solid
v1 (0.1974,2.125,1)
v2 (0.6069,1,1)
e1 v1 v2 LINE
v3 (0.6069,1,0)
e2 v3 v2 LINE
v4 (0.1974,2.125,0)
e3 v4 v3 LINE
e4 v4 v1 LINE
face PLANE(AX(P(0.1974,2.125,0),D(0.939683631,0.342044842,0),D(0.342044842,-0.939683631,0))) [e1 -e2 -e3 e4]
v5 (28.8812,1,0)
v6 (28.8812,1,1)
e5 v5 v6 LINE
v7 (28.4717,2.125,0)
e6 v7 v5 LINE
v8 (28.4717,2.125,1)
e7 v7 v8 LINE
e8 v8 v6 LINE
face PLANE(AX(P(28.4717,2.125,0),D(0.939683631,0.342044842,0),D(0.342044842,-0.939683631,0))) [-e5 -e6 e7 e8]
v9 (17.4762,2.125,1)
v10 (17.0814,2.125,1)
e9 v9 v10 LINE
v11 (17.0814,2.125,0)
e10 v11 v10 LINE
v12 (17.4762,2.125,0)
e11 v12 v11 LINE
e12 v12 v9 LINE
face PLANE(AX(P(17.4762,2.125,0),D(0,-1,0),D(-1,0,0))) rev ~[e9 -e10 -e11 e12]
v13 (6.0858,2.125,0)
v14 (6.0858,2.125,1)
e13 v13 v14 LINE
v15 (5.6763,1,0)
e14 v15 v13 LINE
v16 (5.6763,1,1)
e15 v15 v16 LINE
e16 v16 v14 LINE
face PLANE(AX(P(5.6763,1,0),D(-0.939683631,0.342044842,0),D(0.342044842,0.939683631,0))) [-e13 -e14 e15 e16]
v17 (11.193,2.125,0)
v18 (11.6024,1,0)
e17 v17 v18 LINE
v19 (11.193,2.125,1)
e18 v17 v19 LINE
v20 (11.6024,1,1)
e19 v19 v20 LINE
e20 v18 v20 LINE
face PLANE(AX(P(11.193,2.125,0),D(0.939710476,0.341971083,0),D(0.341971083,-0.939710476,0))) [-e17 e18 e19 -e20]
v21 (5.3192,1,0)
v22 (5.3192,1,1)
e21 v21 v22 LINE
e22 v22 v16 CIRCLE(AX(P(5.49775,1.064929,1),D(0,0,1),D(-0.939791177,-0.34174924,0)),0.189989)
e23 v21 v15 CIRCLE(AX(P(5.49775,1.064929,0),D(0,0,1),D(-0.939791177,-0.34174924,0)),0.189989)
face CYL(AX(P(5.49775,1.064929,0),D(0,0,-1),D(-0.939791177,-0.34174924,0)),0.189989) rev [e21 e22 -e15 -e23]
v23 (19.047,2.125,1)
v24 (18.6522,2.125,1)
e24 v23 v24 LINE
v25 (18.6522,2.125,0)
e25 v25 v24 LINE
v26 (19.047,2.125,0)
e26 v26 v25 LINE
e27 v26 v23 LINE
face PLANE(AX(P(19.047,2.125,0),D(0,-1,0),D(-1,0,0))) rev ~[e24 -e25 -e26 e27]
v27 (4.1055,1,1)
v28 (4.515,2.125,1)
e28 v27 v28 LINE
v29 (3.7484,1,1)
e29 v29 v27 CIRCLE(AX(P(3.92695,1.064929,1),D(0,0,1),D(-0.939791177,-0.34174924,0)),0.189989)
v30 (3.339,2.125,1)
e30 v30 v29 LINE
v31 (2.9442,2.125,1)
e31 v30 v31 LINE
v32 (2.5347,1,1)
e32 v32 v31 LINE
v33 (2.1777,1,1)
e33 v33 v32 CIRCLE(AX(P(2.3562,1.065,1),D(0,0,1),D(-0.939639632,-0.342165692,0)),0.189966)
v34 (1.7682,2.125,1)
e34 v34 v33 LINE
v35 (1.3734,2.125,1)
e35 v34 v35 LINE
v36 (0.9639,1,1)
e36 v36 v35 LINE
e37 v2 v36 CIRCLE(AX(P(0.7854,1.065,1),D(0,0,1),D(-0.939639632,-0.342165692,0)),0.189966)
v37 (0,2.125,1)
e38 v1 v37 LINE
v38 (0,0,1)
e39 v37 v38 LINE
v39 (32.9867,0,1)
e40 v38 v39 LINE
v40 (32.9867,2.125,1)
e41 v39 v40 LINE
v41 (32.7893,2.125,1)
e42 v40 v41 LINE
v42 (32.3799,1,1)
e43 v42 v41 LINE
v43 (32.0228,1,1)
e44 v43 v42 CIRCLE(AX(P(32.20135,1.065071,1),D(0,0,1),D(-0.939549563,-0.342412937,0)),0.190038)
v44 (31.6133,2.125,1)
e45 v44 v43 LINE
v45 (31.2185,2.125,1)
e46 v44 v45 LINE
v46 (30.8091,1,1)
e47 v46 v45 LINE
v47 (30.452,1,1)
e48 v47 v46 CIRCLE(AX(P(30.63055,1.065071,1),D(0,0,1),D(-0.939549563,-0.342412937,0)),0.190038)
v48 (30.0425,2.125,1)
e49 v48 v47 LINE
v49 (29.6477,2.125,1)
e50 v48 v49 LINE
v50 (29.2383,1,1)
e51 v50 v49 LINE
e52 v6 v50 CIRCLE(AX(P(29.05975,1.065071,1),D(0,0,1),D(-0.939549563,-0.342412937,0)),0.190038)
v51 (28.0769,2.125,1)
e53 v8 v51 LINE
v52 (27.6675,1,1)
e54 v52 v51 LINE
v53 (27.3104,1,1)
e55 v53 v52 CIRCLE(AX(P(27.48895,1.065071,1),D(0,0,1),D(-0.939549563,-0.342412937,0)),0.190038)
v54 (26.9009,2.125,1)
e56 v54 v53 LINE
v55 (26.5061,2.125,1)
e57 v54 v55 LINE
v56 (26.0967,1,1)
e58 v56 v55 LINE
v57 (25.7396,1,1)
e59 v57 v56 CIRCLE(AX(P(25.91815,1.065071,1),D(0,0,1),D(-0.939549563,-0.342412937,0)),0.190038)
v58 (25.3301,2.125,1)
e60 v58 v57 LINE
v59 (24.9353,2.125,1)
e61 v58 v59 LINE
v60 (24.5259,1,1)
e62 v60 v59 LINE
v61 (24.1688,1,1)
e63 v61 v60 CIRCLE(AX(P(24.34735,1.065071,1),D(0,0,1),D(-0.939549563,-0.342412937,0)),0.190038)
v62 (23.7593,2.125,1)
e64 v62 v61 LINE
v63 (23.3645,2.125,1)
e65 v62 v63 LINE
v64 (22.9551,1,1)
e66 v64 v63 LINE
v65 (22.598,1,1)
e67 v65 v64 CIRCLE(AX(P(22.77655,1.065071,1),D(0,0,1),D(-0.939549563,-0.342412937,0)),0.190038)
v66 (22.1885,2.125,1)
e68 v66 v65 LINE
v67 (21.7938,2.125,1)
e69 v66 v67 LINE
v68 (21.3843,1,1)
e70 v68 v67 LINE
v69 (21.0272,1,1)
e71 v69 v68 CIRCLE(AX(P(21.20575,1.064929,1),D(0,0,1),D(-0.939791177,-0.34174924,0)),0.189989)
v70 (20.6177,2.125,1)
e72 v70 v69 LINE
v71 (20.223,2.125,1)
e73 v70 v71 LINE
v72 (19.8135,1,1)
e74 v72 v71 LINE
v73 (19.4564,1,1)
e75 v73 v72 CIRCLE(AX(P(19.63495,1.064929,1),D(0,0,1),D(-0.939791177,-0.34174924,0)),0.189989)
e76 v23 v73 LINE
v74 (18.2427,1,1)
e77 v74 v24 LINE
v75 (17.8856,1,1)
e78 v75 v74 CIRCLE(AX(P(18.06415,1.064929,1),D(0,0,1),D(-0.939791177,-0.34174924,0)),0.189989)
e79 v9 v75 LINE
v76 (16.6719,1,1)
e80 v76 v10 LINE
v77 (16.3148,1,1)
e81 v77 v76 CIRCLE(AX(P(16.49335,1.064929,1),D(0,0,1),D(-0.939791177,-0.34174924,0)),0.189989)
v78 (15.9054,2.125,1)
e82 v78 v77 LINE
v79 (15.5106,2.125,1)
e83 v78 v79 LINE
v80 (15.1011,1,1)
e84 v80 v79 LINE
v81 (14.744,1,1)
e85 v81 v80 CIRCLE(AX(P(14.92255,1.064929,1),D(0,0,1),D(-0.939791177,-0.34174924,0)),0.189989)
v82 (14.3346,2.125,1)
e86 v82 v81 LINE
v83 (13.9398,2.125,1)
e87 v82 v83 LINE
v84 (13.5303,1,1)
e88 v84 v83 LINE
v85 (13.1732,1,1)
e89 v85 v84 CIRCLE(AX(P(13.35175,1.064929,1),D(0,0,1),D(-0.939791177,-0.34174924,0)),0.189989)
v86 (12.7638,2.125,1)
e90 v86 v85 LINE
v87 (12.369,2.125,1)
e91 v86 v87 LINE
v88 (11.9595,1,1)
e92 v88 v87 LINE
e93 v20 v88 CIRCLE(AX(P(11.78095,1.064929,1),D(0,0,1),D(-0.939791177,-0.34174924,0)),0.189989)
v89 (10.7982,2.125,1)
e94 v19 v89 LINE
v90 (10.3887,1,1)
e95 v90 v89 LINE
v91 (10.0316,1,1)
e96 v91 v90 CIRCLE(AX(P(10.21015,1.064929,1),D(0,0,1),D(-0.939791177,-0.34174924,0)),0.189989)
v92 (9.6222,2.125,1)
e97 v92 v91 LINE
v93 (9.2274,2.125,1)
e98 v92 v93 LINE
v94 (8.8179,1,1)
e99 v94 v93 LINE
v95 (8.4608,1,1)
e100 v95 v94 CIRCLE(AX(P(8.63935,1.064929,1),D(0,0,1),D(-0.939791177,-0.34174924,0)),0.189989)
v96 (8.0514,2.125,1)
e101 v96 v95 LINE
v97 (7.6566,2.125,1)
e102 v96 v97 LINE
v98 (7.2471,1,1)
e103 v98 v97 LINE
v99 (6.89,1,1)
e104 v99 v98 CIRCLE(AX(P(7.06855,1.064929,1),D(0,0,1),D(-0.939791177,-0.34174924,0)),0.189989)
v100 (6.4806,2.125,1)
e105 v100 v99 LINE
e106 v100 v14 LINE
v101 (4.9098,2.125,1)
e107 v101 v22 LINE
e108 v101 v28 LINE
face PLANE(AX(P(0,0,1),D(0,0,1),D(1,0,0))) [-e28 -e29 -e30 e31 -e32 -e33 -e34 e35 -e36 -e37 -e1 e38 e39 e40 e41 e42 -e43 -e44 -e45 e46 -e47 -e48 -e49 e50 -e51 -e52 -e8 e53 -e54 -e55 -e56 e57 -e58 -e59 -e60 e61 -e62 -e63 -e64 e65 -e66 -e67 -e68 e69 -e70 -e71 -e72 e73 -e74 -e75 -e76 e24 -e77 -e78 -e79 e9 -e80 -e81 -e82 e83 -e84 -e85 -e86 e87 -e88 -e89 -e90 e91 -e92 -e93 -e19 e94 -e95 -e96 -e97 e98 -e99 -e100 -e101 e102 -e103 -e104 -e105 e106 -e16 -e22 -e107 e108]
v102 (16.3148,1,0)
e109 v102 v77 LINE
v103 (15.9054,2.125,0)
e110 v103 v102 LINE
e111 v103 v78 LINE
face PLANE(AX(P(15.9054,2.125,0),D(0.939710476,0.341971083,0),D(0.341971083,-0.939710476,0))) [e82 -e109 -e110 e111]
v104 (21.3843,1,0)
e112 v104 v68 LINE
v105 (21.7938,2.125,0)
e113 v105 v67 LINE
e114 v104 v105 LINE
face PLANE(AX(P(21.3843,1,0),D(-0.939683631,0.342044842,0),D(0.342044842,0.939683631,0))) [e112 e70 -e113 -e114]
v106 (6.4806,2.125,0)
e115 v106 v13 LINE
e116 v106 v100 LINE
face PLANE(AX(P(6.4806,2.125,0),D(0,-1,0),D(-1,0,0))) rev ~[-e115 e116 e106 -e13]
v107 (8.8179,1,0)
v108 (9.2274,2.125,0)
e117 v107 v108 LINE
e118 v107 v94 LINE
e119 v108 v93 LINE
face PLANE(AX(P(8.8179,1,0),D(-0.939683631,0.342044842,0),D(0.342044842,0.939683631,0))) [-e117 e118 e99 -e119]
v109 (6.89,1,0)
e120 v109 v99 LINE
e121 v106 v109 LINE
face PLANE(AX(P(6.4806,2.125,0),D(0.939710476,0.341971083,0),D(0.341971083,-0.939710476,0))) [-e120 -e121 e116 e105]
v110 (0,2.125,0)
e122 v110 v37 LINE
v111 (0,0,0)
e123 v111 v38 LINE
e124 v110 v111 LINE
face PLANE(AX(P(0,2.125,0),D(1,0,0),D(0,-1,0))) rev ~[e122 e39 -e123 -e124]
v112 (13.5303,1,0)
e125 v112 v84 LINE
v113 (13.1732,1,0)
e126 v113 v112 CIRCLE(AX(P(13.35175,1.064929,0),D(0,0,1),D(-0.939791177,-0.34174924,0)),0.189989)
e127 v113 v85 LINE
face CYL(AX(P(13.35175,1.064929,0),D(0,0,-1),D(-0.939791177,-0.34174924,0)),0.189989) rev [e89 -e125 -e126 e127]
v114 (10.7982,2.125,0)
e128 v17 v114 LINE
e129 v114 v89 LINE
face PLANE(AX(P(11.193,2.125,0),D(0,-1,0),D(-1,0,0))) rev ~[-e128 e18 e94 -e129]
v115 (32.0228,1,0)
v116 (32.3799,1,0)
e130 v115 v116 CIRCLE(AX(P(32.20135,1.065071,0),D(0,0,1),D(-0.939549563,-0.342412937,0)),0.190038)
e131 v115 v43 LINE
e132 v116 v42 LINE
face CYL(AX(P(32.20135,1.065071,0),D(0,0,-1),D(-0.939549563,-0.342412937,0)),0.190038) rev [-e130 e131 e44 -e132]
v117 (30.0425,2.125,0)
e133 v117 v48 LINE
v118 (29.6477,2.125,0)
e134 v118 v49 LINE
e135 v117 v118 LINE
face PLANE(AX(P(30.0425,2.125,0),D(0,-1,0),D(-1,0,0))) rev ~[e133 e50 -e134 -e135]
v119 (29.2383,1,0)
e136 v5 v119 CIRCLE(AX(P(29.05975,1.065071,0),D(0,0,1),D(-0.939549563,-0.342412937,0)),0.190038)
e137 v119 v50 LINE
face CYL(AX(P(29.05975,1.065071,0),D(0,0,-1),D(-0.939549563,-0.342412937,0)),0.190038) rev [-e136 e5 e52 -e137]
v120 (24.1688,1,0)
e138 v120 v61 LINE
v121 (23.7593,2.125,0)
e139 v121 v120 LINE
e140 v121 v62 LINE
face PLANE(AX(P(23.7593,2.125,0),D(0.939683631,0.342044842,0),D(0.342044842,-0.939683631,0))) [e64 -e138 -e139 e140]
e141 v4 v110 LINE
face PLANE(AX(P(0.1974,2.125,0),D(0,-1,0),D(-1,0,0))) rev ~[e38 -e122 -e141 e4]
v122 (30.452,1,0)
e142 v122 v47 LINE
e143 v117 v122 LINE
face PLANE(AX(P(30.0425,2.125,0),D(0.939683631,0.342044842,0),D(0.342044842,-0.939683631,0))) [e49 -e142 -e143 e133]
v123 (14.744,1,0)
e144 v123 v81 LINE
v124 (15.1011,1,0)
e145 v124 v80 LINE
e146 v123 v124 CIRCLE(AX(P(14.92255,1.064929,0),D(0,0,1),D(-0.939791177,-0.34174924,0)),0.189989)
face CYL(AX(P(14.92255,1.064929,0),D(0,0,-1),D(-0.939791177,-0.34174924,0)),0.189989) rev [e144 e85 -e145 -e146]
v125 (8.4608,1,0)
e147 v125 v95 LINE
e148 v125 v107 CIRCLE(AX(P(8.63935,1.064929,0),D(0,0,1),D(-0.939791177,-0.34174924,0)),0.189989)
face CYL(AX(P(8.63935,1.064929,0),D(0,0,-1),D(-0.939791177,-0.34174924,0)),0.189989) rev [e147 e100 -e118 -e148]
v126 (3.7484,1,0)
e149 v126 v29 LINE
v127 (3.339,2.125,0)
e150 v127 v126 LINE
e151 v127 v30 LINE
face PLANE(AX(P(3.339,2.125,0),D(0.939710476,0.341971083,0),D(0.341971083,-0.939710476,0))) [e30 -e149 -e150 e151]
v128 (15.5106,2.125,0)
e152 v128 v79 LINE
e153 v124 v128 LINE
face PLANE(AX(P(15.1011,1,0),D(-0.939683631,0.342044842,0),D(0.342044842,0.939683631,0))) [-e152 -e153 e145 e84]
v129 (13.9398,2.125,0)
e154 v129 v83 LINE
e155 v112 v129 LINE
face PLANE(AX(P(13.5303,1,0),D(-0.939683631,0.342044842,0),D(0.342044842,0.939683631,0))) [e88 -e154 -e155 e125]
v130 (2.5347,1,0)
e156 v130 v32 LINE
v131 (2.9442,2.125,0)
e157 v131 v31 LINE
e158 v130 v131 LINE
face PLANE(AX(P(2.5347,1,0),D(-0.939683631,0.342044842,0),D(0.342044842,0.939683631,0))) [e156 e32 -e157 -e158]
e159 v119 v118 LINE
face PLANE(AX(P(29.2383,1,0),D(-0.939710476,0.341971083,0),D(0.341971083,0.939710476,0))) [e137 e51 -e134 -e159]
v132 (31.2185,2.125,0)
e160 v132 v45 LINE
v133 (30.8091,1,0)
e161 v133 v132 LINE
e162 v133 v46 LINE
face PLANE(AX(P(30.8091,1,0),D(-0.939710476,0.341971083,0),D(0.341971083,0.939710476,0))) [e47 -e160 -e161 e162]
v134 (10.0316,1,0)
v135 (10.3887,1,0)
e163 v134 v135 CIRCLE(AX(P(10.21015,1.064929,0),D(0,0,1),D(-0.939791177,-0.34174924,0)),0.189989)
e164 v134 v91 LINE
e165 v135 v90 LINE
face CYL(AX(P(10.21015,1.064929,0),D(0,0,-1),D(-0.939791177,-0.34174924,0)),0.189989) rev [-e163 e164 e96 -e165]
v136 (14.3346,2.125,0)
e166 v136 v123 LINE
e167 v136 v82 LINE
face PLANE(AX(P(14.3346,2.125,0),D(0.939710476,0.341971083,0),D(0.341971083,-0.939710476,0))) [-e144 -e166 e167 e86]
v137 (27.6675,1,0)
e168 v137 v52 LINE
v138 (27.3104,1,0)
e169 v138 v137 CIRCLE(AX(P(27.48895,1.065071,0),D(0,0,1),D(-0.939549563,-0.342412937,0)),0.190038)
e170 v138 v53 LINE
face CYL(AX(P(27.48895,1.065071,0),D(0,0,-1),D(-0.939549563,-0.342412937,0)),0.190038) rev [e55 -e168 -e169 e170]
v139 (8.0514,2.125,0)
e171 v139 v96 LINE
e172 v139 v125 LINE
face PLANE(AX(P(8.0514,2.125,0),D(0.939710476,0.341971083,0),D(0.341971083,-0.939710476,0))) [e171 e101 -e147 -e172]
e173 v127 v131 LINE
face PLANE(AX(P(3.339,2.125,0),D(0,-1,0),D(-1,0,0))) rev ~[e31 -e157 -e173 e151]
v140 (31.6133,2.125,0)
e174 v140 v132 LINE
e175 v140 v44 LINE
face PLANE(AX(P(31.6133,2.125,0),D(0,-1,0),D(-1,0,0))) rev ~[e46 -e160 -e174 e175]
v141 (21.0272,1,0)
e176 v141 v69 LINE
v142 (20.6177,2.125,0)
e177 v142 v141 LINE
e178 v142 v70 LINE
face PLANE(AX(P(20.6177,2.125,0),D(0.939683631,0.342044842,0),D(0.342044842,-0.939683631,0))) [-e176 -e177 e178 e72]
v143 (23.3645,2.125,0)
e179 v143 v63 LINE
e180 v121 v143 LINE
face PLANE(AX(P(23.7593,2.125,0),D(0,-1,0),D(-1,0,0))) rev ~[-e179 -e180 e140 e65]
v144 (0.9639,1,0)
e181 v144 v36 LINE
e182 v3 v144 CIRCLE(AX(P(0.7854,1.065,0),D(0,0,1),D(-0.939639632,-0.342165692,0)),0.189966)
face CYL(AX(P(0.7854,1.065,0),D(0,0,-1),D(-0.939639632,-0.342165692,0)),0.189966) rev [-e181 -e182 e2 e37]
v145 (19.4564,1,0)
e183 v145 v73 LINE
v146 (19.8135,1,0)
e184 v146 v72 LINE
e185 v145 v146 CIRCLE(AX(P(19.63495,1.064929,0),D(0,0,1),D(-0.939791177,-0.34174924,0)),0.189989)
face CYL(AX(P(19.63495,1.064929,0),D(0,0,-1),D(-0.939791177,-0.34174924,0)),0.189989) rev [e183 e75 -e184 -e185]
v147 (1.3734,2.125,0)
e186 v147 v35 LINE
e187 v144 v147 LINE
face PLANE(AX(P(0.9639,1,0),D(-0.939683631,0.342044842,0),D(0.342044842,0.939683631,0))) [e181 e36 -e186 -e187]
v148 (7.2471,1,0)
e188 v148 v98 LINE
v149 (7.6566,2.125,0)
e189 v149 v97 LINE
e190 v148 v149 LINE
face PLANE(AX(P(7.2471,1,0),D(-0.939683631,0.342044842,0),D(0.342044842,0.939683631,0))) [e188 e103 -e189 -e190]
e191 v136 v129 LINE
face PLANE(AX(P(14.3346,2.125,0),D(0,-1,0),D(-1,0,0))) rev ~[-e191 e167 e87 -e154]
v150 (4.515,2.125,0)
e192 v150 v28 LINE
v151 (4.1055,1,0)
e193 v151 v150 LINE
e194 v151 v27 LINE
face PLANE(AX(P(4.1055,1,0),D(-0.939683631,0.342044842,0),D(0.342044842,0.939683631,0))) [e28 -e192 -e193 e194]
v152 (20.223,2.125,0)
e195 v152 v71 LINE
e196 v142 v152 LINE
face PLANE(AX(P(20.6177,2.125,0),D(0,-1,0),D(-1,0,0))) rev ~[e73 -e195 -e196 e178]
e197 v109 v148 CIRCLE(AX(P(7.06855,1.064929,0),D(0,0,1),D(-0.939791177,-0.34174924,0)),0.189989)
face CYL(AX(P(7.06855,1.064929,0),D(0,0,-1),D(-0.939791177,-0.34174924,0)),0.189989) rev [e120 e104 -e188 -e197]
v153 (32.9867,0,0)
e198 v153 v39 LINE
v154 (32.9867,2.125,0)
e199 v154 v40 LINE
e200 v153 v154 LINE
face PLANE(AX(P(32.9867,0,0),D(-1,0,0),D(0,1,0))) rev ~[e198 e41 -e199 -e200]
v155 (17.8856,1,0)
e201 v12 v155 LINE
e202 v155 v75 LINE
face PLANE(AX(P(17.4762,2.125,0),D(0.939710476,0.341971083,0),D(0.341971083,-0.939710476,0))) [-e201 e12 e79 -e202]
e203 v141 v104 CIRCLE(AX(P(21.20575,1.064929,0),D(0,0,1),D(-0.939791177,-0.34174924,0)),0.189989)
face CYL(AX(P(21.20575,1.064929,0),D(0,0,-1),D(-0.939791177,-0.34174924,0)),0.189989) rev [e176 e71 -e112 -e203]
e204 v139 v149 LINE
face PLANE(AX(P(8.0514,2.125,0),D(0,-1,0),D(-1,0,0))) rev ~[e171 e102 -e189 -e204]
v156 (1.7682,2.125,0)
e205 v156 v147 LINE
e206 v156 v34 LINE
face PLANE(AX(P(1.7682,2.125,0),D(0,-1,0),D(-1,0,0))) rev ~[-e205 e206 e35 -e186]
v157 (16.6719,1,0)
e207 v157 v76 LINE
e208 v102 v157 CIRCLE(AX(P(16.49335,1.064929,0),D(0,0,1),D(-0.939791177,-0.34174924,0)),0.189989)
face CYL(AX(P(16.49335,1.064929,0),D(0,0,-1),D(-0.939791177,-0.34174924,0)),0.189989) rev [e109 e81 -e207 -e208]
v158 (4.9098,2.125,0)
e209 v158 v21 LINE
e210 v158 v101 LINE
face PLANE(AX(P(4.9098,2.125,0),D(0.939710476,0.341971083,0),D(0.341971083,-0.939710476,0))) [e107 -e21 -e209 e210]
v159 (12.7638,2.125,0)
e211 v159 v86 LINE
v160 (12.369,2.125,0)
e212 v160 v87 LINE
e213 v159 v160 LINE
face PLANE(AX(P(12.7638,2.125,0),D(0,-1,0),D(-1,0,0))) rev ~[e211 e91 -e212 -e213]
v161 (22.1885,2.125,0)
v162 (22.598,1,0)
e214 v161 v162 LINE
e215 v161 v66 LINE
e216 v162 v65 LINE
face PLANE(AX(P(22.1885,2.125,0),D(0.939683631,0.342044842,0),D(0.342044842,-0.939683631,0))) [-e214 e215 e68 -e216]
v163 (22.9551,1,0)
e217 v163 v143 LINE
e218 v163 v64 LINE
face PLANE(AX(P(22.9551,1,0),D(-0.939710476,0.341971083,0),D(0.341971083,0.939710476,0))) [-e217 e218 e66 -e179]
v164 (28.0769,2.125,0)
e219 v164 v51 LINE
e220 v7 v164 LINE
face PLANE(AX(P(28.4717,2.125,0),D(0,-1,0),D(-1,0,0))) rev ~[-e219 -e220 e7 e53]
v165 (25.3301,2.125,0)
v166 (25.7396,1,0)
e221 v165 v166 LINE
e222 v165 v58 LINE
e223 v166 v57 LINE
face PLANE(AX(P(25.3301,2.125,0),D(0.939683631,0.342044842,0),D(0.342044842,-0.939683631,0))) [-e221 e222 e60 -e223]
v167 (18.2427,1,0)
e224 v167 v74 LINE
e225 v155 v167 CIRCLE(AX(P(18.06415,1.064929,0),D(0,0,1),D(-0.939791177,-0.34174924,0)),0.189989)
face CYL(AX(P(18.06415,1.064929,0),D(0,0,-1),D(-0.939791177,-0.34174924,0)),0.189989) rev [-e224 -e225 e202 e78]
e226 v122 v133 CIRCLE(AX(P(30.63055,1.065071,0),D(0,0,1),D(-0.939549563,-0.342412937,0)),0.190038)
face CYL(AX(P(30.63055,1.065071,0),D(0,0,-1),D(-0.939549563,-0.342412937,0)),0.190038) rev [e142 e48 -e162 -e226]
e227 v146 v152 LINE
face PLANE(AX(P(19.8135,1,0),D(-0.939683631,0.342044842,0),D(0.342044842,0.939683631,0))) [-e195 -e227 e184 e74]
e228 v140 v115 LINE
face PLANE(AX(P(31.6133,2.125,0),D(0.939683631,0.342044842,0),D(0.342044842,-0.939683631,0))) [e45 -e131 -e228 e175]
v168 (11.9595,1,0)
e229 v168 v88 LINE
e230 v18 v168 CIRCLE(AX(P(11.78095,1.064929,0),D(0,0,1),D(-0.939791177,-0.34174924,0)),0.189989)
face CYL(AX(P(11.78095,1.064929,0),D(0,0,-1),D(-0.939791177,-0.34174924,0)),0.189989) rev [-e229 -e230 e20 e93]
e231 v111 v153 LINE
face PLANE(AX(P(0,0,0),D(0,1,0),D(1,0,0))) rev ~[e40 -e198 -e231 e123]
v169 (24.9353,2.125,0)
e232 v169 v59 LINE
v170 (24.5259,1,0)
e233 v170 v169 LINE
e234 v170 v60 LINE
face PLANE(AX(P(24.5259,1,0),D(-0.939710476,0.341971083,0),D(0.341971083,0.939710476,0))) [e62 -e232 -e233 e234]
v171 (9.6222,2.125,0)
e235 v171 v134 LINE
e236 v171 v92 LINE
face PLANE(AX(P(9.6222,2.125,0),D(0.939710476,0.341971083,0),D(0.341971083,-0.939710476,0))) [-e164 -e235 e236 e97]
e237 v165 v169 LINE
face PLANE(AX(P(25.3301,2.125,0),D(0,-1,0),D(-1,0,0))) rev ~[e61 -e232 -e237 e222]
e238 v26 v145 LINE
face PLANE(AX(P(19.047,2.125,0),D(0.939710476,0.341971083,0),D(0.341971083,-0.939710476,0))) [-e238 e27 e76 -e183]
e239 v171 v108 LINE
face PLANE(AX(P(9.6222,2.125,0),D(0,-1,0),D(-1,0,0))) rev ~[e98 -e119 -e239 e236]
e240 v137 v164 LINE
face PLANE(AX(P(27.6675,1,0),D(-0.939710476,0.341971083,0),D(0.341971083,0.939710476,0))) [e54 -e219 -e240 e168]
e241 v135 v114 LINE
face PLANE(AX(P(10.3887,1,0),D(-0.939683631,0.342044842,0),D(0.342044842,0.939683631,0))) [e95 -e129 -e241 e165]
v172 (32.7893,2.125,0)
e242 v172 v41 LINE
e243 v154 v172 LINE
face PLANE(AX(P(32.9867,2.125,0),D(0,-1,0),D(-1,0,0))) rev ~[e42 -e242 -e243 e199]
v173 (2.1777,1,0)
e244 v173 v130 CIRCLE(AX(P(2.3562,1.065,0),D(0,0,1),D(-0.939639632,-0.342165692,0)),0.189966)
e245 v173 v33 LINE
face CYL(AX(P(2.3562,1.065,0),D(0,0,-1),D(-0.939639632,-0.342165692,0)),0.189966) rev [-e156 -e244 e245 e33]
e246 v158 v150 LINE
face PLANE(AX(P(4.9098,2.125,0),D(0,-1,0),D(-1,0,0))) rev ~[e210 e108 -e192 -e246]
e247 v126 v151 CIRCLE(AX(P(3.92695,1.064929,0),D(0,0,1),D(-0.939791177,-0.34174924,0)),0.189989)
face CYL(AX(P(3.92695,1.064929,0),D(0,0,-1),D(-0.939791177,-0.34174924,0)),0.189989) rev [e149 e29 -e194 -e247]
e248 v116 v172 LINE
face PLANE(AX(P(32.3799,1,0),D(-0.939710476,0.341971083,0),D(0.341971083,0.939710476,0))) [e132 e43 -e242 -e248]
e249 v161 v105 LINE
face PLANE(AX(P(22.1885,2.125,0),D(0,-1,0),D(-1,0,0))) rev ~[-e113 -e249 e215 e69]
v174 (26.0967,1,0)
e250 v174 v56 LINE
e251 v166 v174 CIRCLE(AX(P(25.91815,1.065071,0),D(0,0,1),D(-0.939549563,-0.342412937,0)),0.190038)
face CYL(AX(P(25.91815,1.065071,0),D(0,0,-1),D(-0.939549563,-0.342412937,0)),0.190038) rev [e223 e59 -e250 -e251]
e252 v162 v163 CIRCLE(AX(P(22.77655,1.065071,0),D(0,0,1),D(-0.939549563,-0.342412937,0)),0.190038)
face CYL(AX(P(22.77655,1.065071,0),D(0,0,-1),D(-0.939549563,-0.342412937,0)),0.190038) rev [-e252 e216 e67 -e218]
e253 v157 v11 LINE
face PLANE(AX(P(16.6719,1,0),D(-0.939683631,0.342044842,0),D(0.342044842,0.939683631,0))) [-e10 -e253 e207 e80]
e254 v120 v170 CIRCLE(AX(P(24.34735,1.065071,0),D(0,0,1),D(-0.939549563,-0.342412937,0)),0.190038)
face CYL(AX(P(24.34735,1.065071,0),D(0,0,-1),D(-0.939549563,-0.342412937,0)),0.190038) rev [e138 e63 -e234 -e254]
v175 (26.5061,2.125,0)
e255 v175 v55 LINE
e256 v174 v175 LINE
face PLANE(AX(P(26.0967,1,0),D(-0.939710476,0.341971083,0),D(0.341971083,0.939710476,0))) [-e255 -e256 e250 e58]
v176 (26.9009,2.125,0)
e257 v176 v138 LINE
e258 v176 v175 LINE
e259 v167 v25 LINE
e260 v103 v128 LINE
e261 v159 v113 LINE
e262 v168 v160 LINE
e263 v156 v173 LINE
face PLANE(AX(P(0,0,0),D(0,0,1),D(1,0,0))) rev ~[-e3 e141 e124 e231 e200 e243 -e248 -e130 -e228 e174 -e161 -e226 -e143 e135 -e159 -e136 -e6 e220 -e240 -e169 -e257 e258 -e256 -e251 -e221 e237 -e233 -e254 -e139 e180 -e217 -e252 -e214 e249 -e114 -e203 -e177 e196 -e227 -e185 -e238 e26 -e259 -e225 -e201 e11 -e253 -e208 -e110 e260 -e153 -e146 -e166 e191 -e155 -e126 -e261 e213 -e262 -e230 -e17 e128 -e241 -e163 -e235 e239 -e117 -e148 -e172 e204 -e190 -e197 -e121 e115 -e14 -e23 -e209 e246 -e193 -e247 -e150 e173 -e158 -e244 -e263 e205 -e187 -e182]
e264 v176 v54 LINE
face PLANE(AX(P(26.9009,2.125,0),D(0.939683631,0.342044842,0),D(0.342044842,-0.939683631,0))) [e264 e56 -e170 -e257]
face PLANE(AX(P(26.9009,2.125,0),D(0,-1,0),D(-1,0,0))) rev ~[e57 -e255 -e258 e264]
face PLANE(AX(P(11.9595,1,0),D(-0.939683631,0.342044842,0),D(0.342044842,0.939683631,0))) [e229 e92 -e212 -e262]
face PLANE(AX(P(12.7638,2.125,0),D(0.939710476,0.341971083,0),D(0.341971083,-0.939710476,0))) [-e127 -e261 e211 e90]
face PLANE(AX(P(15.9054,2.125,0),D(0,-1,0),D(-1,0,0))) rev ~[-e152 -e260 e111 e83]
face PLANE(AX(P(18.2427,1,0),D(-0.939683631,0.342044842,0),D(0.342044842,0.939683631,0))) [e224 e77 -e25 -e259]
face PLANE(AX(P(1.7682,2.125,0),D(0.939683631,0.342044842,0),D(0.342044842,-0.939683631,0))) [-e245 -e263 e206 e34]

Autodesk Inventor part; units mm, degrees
ref_plane "YZ Plane" through (0, 0, 0) normal (1, 0, 0) x (0, 1, 0)
ref_plane "XZ Plane" through (0, 0, 0) normal (0, 1, 0) x (-1, 0, 0)
ref_plane "XY Plane" through (0, 0, 0) normal (0, 0, 1) x (1, 0, 0)
sketch "草圖2" plane through (0, 0, 0) normal (0, 0, 1) x (1, 0, 0)
  line L0 (0, 0) -> (32.9867, 0)
  line L1 (32.9867, 0) -> (32.9867, 2.125)
  line L2 (32.9867, 2.125) -> (0, 2.125)
  line L3 (0, 2.125) -> (0, 0)
  line L4 (0, 1) -> (32.9867, 1) construction
  line L5 (0.1974, 2.125) -> (0.6069, 1)
  line L6 (0.9639, 1) -> (1.3734, 2.125)
  line L7 (0.7854, 2.125) -> (0.7854, 1) construction
  line L8 (0, 0.875) -> (32.9867, 0.875) construction
  arc A0 (0.6069, 1) -> (0.9639, 1) centre (0.7854, 1.065) ccw
  line L9 (0, 1.625) -> (32.9867, 1.625) construction
  line L10 (2.5347, 1) -> (2.9442, 2.125)
  arc A1 (2.1777, 1) -> (2.5347, 1) centre (2.3562, 1.065) ccw
  line L11 (1.7682, 2.125) -> (2.1777, 1)
  line L12 (4.1055, 1) -> (4.515, 2.125)
  arc A2 (3.7484, 1) -> (4.1055, 1) centre (3.927, 1.065) ccw
  line L13 (3.339, 2.125) -> (3.7484, 1)
  line L14 (5.6763, 1) -> (6.0858, 2.125)
  arc A3 (5.3192, 1) -> (5.6763, 1) centre (5.4978, 1.065) ccw
  line L15 (4.9098, 2.125) -> (5.3192, 1)
  line L16 (7.2471, 1) -> (7.6566, 2.125)
  arc A4 (6.89, 1) -> (7.2471, 1) centre (7.0686, 1.065) ccw
  line L17 (6.4806, 2.125) -> (6.89, 1)
  line L18 (8.8179, 1) -> (9.2274, 2.125)
  arc A5 (8.4608, 1) -> (8.8179, 1) centre (8.6394, 1.065) ccw
  line L19 (8.0514, 2.125) -> (8.4608, 1)
  line L20 (10.3887, 1) -> (10.7982, 2.125)
  arc A6 (10.0316, 1) -> (10.3887, 1) centre (10.2102, 1.065) ccw
  line L21 (9.6222, 2.125) -> (10.0316, 1)
  line L22 (11.9595, 1) -> (12.369, 2.125)
  arc A7 (11.6024, 1) -> (11.9595, 1) centre (11.781, 1.065) ccw
  line L23 (11.193, 2.125) -> (11.6024, 1)
  line L24 (13.5303, 1) -> (13.9398, 2.125)
  arc A8 (13.1732, 1) -> (13.5303, 1) centre (13.3518, 1.065) ccw
  line L25 (12.7638, 2.125) -> (13.1732, 1)
  line L26 (15.1011, 1) -> (15.5106, 2.125)
  arc A9 (14.744, 1) -> (15.1011, 1) centre (14.9226, 1.065) ccw
  line L27 (14.3346, 2.125) -> (14.744, 1)
  line L28 (16.6719, 1) -> (17.0814, 2.125)
  arc A10 (16.3148, 1) -> (16.6719, 1) centre (16.4934, 1.065) ccw
  line L29 (15.9054, 2.125) -> (16.3148, 1)
  line L30 (18.2427, 1) -> (18.6522, 2.125)
  arc A11 (17.8856, 1) -> (18.2427, 1) centre (18.0642, 1.065) ccw
  line L31 (17.4762, 2.125) -> (17.8856, 1)
  line L32 (19.8135, 1) -> (20.223, 2.125)
  arc A12 (19.4564, 1) -> (19.8135, 1) centre (19.635, 1.065) ccw
  line L33 (19.047, 2.125) -> (19.4564, 1)
  line L34 (21.3843, 1) -> (21.7938, 2.125)
  arc A13 (21.0272, 1) -> (21.3843, 1) centre (21.2058, 1.065) ccw
  line L35 (20.6177, 2.125) -> (21.0272, 1)
  line L36 (22.9551, 1) -> (23.3645, 2.125)
  arc A14 (22.598, 1) -> (22.9551, 1) centre (22.7765, 1.065) ccw
  line L37 (22.1885, 2.125) -> (22.598, 1)
  line L38 (24.5259, 1) -> (24.9353, 2.125)
  arc A15 (24.1688, 1) -> (24.5259, 1) centre (24.3473, 1.065) ccw
  line L39 (23.7593, 2.125) -> (24.1688, 1)
  line L40 (26.0967, 1) -> (26.5061, 2.125)
  arc A16 (25.7396, 1) -> (26.0967, 1) centre (25.9181, 1.065) ccw
  line L41 (25.3301, 2.125) -> (25.7396, 1)
  line L42 (27.6675, 1) -> (28.0769, 2.125)
  arc A17 (27.3104, 1) -> (27.6675, 1) centre (27.4889, 1.065) ccw
  line L43 (26.9009, 2.125) -> (27.3104, 1)
  line L44 (29.2383, 1) -> (29.6477, 2.125)
  arc A18 (28.8812, 1) -> (29.2383, 1) centre (29.0597, 1.065) ccw
  line L45 (28.4717, 2.125) -> (28.8812, 1)
  line L46 (30.8091, 1) -> (31.2185, 2.125)
  arc A19 (30.452, 1) -> (30.8091, 1) centre (30.6305, 1.065) ccw
  line L47 (30.0425, 2.125) -> (30.452, 1)
  line L48 (32.3799, 1) -> (32.7893, 2.125)
  arc A20 (32.0228, 1) -> (32.3799, 1) centre (32.2013, 1.065) ccw
  line L49 (31.6133, 2.125) -> (32.0228, 1)
  point P0 (0.7854, 0.5095)
  point P1 (0.7854, 0.875)
  point P2 (2.3562, 0.5095)
  point P3 (3.927, 0.5095)
  point P4 (5.4978, 0.5095)
  point P5 (7.0686, 0.5095)
  point P6 (8.6394, 0.5095)
  point P7 (10.2102, 0.5095)
  point P8 (11.781, 0.5095)
  point P9 (13.3518, 0.5095)
  point P10 (14.9226, 0.5095)
  point P11 (16.4934, 0.5095)
  point P12 (18.0642, 0.5095)
  point P13 (19.635, 0.5095)
  point P14 (21.2058, 0.5095)
  point P15 (22.7765, 0.5095)
  point P16 (24.3473, 0.5095)
  point P17 (25.9181, 0.5095)
  point P18 (27.4889, 0.5095)
  point P19 (29.0597, 0.5095)
  point P20 (30.6305, 0.5095)
  point P21 (32.2013, 0.5095)
  point P22 (32.7893, 2.125)
  point P23 (31.6133, 2.125)
  point P24 (31.2185, 2.125)
  point P25 (30.0425, 2.125)
  point P26 (29.6477, 2.125)
  point P27 (28.4717, 2.125)
  point P28 (28.0769, 2.125)
  point P29 (26.9009, 2.125)
  point P30 (26.5061, 2.125)
  point P31 (25.3301, 2.125)
  point P32 (24.9353, 2.125)
  point P33 (23.7593, 2.125)
  point P34 (23.3645, 2.125)
  point P35 (22.1885, 2.125)
  point P36 (21.7938, 2.125)
  point P37 (20.6177, 2.125)
  point P38 (20.223, 2.125)
  point P39 (19.047, 2.125)
  point P40 (18.6522, 2.125)
  point P41 (17.4762, 2.125)
  point P42 (17.0814, 2.125)
  point P43 (15.9054, 2.125)
  point P44 (15.5106, 2.125)
  point P45 (14.3346, 2.125)
  point P46 (13.9398, 2.125)
  point P47 (12.7638, 2.125)
  point P48 (12.369, 2.125)
  point P49 (11.193, 2.125)
  point P50 (10.7982, 2.125)
  point P51 (9.6222, 2.125)
  point P52 (9.2274, 2.125)
  point P53 (8.0514, 2.125)
  point P54 (7.6566, 2.125)
  point P55 (6.4806, 2.125)
  point P56 (6.0858, 2.125)
  point P57 (4.9098, 2.125)
  point P58 (4.515, 2.125)
  point P59 (3.339, 2.125)
  point P60 (2.9442, 2.125)
  point P61 (1.7682, 2.125)
  dimension "d17" = 32.9867
  dimension "d18" = 2.125
  dimension "d19" = 1.125
  dimension "d20" = 0.7854
  dimension "d23" = 20
  dimension "d24" = 20
  dimension "d25" = 0.125
  dimension "d26" = 0.19
  dimension "d37" = 0.5
  dimension "d40" = 1.5708
extrude "擠出3" add sketch "草圖2" along normal blind 1 contours L3 L2 L5 A0 L6 L11 A1 L10 L13 A2 L12 L15 A3 L14 L17 A4 L16 L19 A5 L18 L21 A6 L20 L23 A7 L22 L25 A8 L24 L27 A9 L26 L29 A10 L28 L31 A11 L30 L33 A12 L32 L35 A13 L34 L37 A14 L36 L39 A15 L38 L41 A16 L40 L43 A17 L42 L45 A18 L44 L47 A19 L46 L49 A20 L48 L1 L0
equation "\"d17\" = rack_length"
equation "\"d19\" = whole_depth"
equation "\"d20\" = tooth_thickness"
equation "\"d23\" = pressure_angle"
equation "\"d24\" = pressure_angle"
equation "\"d25\" = rack_dedendum"
equation "\"d26\" = fillet_radius"
equation "\"d37\" = addendum"
equation "\"d40\" = circular_pitch"
equation "\"whole_depth\" = 2.25 * module"
equation "\"tooth_thickness\" = 1.5708 * module"
equation "\"circular_pitch\" = 3.14159 * module"
equation "\"addendum\" = module"
equation "\"dedendum\" = 1.25 * module"
equation "\"addendum_diameter\" = pitch_diameter + 2 * addendum"
equation "\"dedendum_diameter\" = pitch_diameter - 2 * dedendum"
equation "\"pressure_angle\" = 20deg"
equation "\"fillet_radius\" = 0.38 * module"
equation "\"rack_dedendum\" = 0.25 * module"
equation "\"rack_length\" = 32.986723"
equation "\"pitch_diameter\" = 10"
properties part number "齒條"
